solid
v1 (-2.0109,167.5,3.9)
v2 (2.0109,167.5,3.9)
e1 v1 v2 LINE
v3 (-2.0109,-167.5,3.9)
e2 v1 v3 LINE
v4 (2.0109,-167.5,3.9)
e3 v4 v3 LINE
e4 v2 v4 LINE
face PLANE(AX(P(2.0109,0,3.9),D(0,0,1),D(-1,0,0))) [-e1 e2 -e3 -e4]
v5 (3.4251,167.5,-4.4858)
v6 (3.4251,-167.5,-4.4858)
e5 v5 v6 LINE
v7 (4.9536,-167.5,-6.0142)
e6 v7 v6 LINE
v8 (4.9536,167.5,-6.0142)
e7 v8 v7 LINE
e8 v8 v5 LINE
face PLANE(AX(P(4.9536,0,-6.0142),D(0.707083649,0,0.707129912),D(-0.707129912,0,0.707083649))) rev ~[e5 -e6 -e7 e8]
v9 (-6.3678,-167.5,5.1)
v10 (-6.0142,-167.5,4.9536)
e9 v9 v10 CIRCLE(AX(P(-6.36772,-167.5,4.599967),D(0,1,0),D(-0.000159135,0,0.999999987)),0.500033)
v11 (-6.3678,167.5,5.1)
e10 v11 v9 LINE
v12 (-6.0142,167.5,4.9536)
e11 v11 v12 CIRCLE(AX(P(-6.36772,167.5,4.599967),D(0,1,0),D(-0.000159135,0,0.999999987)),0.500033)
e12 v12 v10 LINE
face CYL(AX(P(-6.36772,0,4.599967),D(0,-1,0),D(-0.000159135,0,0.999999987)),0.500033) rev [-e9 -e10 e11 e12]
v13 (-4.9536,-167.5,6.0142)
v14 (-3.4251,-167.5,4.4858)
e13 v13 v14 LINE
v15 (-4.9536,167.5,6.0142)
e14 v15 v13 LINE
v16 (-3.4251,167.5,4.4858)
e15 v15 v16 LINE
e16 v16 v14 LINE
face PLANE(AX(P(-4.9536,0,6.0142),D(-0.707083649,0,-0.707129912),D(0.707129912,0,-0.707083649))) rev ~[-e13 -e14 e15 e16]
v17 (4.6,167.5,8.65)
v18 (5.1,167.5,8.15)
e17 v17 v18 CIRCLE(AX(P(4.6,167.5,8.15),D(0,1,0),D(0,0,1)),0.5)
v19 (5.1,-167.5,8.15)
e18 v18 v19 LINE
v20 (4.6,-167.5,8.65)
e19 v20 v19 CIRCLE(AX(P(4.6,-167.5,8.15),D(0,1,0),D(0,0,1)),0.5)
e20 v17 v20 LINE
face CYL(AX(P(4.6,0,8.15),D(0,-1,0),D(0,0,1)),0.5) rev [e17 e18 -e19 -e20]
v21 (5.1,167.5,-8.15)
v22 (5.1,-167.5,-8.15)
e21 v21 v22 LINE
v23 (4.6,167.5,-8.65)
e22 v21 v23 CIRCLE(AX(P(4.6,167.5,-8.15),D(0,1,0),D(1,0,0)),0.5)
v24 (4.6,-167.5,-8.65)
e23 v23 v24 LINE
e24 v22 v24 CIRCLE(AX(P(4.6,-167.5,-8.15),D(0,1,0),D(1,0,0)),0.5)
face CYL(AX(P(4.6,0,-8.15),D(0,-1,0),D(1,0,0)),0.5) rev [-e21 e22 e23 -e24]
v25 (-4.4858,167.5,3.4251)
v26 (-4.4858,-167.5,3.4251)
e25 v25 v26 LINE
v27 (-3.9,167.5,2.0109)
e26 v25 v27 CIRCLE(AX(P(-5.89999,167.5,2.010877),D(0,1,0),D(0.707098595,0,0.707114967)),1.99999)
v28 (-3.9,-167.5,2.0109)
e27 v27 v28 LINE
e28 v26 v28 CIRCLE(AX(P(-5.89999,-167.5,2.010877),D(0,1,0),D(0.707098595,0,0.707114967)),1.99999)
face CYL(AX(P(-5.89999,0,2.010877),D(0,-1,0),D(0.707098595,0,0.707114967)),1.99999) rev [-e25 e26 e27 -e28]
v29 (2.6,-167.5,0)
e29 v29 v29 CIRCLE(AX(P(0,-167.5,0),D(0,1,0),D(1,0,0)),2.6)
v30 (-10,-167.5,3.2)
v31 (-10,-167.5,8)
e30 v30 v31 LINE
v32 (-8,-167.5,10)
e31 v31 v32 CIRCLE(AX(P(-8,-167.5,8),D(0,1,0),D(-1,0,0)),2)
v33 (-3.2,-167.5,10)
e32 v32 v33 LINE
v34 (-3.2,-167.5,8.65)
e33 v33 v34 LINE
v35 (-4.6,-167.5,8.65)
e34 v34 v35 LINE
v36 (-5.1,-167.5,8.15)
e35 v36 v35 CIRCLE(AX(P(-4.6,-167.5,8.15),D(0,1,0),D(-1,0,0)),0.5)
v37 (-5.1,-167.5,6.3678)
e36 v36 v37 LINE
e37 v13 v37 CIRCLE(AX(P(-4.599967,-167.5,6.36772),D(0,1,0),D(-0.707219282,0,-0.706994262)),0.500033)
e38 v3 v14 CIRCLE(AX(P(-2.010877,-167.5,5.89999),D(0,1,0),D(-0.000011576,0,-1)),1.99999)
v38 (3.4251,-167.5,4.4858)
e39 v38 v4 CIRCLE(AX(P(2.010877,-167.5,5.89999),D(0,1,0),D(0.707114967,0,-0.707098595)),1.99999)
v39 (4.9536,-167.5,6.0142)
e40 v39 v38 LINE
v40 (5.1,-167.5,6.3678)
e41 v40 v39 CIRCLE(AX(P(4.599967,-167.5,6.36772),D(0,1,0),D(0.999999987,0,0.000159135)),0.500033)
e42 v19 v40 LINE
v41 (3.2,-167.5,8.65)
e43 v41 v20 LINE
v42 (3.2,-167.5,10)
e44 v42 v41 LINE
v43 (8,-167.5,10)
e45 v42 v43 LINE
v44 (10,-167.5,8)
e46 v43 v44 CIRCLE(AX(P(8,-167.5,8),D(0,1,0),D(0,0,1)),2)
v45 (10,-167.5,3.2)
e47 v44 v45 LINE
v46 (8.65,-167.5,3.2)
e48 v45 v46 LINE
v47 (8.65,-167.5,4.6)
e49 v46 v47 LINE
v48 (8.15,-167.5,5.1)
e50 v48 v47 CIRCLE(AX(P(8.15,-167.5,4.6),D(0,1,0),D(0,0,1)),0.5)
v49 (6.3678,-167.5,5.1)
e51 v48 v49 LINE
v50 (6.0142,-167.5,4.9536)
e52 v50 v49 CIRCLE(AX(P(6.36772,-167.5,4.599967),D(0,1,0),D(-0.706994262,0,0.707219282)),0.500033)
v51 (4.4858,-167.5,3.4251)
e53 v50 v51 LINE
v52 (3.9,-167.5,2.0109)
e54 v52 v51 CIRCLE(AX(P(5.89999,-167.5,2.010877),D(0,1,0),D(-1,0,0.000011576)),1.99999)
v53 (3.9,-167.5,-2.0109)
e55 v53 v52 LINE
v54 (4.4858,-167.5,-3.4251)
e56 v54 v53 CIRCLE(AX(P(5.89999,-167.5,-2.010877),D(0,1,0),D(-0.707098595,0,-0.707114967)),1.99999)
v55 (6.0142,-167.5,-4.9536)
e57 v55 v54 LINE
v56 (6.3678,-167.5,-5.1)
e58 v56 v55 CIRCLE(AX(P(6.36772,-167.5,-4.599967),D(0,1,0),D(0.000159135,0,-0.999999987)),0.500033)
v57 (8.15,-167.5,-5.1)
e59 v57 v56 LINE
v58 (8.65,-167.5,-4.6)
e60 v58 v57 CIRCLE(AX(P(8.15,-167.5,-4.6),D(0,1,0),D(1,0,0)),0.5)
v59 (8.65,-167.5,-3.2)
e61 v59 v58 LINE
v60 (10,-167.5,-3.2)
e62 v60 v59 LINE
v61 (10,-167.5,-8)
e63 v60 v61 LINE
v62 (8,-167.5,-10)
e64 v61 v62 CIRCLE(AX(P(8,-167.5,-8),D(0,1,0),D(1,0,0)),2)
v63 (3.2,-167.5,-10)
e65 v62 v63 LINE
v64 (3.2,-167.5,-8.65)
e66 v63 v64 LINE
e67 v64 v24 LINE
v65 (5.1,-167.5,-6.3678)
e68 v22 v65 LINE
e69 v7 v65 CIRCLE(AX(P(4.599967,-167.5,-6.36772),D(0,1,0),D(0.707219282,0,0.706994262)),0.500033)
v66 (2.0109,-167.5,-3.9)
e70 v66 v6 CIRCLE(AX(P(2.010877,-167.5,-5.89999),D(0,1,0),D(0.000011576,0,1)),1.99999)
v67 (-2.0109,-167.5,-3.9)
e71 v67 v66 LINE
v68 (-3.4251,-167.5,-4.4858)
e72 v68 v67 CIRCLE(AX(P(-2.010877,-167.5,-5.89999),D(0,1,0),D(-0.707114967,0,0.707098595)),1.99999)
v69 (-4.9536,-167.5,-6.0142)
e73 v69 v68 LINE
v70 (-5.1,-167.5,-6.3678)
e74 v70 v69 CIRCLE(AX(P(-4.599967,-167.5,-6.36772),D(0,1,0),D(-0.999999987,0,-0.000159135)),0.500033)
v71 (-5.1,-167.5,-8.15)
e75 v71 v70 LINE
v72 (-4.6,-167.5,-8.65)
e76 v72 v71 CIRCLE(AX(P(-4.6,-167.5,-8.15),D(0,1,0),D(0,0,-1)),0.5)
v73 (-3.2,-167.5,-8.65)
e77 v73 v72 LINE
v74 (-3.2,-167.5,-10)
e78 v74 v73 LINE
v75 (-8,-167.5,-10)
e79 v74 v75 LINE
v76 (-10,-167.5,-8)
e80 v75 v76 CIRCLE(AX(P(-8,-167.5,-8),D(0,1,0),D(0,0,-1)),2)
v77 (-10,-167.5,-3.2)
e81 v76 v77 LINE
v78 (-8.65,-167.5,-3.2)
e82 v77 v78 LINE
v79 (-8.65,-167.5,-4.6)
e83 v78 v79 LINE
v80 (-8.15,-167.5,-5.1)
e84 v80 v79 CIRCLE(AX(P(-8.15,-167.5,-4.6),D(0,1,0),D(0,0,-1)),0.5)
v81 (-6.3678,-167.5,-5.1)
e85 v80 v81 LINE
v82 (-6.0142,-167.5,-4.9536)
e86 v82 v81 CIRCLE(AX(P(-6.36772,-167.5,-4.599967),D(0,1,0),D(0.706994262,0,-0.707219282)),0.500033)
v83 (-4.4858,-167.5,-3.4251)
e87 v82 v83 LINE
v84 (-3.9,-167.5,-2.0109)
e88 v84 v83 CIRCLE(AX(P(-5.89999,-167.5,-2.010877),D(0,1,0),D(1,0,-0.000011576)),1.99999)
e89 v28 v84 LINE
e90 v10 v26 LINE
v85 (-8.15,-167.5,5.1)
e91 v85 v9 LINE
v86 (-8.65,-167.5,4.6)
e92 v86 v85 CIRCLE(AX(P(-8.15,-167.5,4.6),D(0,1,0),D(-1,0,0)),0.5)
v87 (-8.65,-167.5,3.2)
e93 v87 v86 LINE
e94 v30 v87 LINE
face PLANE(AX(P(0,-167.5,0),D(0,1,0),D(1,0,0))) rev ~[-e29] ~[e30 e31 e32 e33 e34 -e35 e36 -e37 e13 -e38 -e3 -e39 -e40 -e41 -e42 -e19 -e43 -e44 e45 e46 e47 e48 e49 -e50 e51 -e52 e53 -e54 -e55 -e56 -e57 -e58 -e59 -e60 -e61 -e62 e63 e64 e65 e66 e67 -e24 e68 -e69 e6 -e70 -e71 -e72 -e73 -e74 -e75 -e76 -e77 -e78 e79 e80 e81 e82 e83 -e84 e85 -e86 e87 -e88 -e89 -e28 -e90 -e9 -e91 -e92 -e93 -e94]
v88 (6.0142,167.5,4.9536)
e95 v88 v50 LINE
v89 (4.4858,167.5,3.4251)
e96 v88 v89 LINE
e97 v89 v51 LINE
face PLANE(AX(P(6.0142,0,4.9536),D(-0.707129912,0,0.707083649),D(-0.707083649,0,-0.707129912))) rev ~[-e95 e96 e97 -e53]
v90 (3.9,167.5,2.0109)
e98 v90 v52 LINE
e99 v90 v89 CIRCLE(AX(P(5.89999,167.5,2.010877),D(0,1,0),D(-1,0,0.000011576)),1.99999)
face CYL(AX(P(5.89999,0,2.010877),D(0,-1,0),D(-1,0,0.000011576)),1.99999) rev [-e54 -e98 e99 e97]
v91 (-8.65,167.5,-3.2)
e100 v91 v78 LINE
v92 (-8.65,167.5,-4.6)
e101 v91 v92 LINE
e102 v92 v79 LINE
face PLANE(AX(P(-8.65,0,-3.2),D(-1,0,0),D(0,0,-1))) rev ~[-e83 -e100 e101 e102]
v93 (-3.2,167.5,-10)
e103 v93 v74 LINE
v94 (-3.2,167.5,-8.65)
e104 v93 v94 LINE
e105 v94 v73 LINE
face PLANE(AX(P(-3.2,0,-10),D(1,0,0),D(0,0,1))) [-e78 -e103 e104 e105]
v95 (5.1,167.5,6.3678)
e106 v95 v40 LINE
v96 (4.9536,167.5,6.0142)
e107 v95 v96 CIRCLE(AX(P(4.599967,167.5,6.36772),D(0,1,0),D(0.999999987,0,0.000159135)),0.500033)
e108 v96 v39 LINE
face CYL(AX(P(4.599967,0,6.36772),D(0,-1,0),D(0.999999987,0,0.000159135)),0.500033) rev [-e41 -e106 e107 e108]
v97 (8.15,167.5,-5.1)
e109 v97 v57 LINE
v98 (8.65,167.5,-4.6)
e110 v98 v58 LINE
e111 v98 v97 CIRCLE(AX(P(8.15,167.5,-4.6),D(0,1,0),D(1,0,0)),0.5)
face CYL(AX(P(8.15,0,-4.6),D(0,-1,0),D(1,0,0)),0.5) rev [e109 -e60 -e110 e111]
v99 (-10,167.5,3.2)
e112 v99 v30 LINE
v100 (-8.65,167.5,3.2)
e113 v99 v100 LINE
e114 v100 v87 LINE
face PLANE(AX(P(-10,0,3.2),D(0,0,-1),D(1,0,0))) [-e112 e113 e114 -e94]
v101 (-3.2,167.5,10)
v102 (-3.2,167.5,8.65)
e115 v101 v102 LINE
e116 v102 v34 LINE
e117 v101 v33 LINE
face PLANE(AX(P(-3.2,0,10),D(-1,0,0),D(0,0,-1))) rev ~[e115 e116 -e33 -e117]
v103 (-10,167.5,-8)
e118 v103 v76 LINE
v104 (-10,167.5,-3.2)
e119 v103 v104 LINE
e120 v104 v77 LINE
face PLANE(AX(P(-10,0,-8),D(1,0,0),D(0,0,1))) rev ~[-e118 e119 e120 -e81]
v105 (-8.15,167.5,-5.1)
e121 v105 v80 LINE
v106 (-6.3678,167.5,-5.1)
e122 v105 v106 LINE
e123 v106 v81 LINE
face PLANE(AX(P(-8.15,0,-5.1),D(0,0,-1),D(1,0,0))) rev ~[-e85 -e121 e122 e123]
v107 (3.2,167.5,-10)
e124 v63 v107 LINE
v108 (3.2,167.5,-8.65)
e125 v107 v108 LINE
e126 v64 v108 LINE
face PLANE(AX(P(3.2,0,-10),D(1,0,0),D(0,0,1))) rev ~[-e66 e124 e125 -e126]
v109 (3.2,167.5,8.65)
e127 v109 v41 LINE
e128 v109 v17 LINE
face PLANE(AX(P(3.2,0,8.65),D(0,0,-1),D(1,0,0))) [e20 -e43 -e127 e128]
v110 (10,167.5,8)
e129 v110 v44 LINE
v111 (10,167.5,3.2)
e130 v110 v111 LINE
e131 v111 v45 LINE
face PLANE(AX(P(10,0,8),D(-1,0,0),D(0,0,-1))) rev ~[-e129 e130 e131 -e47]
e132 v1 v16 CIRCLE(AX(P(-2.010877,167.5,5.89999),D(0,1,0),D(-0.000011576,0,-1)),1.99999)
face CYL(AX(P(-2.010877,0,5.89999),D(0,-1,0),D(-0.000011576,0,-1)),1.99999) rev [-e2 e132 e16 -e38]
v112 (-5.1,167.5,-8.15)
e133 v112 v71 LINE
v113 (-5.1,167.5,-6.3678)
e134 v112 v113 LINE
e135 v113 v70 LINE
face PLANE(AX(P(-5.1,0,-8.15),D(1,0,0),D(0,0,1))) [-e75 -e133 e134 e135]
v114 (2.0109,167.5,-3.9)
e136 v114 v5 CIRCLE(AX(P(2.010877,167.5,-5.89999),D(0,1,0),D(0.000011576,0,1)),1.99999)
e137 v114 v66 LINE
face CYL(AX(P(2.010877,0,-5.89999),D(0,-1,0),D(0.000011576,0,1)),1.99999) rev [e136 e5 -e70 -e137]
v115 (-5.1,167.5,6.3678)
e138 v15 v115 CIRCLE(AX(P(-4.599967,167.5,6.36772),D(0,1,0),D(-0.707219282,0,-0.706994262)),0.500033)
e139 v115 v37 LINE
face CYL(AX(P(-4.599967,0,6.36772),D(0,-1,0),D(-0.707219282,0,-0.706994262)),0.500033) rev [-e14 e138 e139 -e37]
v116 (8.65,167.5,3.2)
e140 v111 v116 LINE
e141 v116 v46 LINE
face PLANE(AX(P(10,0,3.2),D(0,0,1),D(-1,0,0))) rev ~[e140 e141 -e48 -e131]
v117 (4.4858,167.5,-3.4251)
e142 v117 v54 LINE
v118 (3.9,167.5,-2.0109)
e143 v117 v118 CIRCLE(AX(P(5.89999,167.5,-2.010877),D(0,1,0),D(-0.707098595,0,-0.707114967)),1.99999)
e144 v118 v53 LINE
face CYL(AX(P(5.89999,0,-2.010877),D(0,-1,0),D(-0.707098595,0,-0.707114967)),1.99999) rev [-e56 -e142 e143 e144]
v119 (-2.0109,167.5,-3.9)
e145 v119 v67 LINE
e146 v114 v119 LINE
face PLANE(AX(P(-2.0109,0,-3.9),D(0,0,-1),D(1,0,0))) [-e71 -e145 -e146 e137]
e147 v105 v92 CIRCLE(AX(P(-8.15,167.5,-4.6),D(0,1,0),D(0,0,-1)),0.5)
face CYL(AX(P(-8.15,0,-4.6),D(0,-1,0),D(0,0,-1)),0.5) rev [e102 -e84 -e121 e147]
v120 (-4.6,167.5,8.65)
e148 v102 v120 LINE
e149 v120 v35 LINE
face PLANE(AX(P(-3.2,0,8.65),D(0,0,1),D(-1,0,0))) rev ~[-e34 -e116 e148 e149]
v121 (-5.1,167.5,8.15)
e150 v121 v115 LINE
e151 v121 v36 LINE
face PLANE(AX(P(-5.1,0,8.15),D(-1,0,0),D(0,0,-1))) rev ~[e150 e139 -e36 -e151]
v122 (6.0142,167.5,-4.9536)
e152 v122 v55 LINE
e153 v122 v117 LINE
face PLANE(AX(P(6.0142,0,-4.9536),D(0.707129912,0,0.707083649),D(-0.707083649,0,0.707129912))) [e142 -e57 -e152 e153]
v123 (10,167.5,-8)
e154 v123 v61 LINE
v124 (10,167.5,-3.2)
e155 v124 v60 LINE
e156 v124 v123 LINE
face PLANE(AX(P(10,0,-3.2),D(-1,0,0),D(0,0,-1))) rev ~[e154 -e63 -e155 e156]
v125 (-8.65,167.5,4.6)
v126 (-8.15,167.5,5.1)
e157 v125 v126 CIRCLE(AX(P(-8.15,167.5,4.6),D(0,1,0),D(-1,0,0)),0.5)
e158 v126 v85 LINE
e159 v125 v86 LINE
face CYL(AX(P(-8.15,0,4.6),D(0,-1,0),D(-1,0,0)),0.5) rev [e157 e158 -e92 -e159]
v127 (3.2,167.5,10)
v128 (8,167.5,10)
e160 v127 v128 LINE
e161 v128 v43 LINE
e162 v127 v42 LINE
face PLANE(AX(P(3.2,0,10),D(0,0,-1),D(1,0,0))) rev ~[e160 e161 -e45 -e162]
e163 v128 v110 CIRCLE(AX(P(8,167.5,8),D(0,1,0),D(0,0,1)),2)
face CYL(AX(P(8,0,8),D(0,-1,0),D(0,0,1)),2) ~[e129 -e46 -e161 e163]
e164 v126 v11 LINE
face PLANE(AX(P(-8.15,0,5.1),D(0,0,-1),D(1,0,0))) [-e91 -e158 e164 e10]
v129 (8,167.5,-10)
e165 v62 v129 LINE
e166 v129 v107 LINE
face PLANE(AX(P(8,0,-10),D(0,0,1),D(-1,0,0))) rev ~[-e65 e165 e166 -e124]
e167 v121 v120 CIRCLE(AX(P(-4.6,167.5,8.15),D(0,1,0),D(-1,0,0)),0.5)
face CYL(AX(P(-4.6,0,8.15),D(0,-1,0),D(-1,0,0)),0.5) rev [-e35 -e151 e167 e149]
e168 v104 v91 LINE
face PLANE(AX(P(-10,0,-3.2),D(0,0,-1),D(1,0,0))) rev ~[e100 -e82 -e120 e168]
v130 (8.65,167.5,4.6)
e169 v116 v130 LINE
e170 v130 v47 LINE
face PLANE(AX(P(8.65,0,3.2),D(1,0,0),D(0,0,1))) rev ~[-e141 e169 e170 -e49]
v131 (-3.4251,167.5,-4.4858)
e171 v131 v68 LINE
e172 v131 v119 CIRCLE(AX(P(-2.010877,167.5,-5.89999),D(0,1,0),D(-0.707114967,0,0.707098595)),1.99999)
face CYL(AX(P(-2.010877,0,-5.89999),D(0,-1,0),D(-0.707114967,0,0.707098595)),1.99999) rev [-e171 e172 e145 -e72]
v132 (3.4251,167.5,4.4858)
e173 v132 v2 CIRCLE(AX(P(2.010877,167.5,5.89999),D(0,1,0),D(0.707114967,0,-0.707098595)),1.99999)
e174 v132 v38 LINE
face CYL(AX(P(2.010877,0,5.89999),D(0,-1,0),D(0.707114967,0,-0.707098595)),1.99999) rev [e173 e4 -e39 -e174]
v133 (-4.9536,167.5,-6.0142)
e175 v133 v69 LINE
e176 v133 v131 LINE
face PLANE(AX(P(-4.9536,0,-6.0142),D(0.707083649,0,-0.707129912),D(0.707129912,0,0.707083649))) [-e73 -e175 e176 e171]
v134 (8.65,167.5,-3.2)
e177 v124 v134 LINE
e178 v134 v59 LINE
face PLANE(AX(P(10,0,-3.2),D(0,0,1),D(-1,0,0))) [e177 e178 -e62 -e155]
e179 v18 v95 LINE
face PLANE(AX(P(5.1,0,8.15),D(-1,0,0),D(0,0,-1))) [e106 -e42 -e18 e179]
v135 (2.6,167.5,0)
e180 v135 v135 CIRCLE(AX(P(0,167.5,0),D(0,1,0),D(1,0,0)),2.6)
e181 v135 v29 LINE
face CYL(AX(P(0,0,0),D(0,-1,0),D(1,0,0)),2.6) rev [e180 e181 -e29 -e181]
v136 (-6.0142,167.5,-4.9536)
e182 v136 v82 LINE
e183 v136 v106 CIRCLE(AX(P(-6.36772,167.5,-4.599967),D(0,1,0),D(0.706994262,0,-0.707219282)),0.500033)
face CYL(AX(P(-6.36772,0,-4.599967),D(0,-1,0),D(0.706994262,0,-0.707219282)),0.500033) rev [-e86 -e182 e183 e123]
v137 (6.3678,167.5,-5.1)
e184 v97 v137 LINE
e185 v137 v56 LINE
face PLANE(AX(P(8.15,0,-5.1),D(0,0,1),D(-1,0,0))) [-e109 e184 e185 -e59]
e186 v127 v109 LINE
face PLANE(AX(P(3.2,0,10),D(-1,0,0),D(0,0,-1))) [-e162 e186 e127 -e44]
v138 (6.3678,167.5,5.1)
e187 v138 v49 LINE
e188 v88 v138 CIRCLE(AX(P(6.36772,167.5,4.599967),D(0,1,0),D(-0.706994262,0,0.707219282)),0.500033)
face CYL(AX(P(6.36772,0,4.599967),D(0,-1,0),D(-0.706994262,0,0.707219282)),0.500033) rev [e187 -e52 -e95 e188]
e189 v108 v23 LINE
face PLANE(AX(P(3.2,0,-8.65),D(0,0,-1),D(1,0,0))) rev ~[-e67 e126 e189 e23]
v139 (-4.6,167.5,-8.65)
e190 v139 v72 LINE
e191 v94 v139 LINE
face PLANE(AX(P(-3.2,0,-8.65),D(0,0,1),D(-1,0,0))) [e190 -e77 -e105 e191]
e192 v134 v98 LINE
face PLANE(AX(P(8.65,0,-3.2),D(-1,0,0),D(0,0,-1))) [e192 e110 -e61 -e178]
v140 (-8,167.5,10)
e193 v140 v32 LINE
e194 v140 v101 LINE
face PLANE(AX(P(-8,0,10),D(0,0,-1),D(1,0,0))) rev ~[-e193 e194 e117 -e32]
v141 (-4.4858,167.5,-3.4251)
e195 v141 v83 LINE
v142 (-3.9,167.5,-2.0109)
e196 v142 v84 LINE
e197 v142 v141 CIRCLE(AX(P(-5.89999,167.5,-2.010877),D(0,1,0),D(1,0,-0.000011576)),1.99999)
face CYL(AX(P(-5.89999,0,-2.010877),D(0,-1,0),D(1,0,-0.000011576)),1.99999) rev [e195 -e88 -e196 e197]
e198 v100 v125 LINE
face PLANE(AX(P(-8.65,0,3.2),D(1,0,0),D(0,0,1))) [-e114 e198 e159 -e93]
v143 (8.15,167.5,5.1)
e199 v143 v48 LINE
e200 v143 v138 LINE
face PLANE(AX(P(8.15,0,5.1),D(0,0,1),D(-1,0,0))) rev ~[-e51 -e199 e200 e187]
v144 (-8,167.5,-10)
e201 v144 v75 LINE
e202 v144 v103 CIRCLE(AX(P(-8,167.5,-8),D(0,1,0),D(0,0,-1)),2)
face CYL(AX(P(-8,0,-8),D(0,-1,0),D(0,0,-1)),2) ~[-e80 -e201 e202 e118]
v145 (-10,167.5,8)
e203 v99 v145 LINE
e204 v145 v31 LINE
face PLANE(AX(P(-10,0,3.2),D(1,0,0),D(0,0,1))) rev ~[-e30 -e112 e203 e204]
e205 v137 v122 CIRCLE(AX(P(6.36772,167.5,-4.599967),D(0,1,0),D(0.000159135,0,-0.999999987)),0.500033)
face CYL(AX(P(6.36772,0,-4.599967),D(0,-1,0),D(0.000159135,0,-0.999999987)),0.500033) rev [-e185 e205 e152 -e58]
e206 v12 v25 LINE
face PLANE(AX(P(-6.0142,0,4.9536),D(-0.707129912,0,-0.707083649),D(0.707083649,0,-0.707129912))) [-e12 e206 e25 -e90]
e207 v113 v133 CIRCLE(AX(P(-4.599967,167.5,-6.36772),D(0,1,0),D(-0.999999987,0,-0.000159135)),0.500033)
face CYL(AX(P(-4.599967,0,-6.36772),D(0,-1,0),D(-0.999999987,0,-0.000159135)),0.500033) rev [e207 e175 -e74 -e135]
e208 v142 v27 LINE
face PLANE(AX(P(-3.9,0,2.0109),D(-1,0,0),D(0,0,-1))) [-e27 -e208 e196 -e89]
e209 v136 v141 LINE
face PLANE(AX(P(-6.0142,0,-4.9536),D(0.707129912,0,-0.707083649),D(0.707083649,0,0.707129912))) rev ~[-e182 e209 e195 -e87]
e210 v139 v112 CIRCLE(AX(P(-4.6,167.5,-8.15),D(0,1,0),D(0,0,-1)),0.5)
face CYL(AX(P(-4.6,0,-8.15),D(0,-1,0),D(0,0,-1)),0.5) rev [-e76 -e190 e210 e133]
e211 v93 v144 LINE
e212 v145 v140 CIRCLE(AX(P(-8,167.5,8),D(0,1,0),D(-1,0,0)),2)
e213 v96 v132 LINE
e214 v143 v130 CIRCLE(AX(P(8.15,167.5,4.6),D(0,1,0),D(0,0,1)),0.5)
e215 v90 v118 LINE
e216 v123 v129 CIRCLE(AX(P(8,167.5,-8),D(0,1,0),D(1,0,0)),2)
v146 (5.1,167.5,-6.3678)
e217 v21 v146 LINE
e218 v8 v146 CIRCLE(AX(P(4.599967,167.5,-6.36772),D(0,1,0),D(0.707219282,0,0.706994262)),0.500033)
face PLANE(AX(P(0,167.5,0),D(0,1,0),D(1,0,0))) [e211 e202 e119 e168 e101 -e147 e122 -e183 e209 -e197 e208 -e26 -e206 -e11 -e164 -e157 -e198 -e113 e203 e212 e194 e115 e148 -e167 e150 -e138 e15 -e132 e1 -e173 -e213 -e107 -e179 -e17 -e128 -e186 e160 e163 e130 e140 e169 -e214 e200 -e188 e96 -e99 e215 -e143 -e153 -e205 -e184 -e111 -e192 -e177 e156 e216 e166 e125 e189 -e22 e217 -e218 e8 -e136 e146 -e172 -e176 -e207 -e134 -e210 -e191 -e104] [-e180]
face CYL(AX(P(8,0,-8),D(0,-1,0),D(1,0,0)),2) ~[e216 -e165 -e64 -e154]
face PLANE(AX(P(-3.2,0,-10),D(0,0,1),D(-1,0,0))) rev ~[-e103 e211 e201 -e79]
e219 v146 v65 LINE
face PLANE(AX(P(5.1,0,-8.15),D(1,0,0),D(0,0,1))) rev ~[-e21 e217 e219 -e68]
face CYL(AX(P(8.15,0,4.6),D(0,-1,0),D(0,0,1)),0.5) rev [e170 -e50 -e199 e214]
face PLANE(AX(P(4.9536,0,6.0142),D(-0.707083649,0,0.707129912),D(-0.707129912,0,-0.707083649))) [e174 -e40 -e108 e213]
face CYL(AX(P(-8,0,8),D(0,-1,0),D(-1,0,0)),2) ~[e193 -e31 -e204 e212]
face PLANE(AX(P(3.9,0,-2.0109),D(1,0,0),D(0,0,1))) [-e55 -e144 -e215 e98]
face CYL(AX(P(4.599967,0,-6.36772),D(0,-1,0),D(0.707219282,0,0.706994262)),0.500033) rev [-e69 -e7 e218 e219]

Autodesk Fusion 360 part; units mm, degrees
sketch "スケッチ1" plane through (0, 0, 0) normal (0, 1, 0) x (1, 0, 0)
  line L0 (8, 10) -> (-8, 10)
  line L1 (-10, 8) -> (-10, -8)
  line L2 (-8, -10) -> (8, -10)
  line L3 (10, -8) -> (10, 8)
  line L4 (10, 10) -> (-10, -10) construction
  line L5 (-10, 10) -> (10, -10) construction
  circle A0 centre (0, 0) radius 2.6
  line L6 (-3.2, -10) -> (-3.2, -8.65)
  line L7 (-3.2, -8.65) -> (-4.6, -8.65)
  line L8 (-5.1, -8.15) -> (-5.1, -6.3678)
  line L9 (-4.9536, -6.0142) -> (-3.4251, -4.4858)
  line L10 (0, 0) -> (0, -10) construction
  line L11 (-2.0109, -3.9) -> (0, -3.9)
  arc A1 (-5.1, -8.15) -> (-4.6, -8.65) centre (-4.6, -8.15) ccw
  arc A2 (-4.9536, -6.0142) -> (-5.1, -6.3678) centre (-4.6, -6.3678) ccw
  arc A3 (-2.0109, -3.9) -> (-3.4251, -4.4858) centre (-2.0109, -5.9) ccw
  arc A4 (-10, -8) -> (-8, -10) centre (-8, -8) ccw
  arc A5 (10, 8) -> (8, 10) centre (8, 8) ccw
  arc A6 (8, -10) -> (10, -8) centre (8, -8) ccw
  arc A7 (-8, 10) -> (-10, 8) centre (-8, 8) ccw
  line L12 (3.2, -10) -> (3.2, -8.65)
  line L13 (3.2, -8.65) -> (4.6, -8.65)
  arc A8 (4.6, -8.65) -> (5.1, -8.15) centre (4.6, -8.15) ccw
  line L14 (5.1, -8.15) -> (5.1, -6.3678)
  arc A9 (5.1, -6.3678) -> (4.9536, -6.0142) centre (4.6, -6.3678) ccw
  line L15 (4.9536, -6.0142) -> (3.4251, -4.4858)
  arc A10 (3.4251, -4.4858) -> (2.0109, -3.9) centre (2.0109, -5.9) ccw
  line L16 (2.0109, -3.9) -> (0, -3.9)
  line L17 (10, -3.2) -> (8.65, -3.2)
  line L18 (8.65, -3.2) -> (8.65, -4.6)
  arc A11 (8.15, -5.1) -> (8.65, -4.6) centre (8.15, -4.6) ccw
  line L19 (8.15, -5.1) -> (6.3678, -5.1)
  arc A12 (6.0142, -4.9536) -> (6.3678, -5.1) centre (6.3678, -4.6) ccw
  line L20 (6.0142, -4.9536) -> (4.4858, -3.4251)
  arc A13 (3.9, -2.0109) -> (4.4858, -3.4251) centre (5.9, -2.0109) ccw
  line L21 (3.9, -2.0109) -> (3.9, 0)
  line L22 (3.9, 2.0109) -> (3.9, 0)
  arc A14 (4.4858, 3.4251) -> (3.9, 2.0109) centre (5.9, 2.0109) ccw
  line L23 (6.0142, 4.9536) -> (4.4858, 3.4251)
  arc A15 (6.3678, 5.1) -> (6.0142, 4.9536) centre (6.3678, 4.6) ccw
  line L24 (8.15, 5.1) -> (6.3678, 5.1)
  arc A16 (8.65, 4.6) -> (8.15, 5.1) centre (8.15, 4.6) ccw
  line L25 (8.65, 3.2) -> (8.65, 4.6)
  line L26 (10, 3.2) -> (8.65, 3.2)
  line L27 (3.2, 10) -> (3.2, 8.65)
  line L28 (3.2, 8.65) -> (4.6, 8.65)
  arc A17 (5.1, 8.15) -> (4.6, 8.65) centre (4.6, 8.15) ccw
  line L29 (5.1, 8.15) -> (5.1, 6.3678)
  arc A18 (4.9536, 6.0142) -> (5.1, 6.3678) centre (4.6, 6.3678) ccw
  line L30 (4.9536, 6.0142) -> (3.4251, 4.4858)
  arc A19 (2.0109, 3.9) -> (3.4251, 4.4858) centre (2.0109, 5.9) ccw
  line L31 (2.0109, 3.9) -> (0, 3.9)
  line L32 (-2.0109, 3.9) -> (0, 3.9)
  arc A20 (-3.4251, 4.4858) -> (-2.0109, 3.9) centre (-2.0109, 5.9) ccw
  line L33 (-4.9536, 6.0142) -> (-3.4251, 4.4858)
  arc A21 (-5.1, 6.3678) -> (-4.9536, 6.0142) centre (-4.6, 6.3678) ccw
  line L34 (-5.1, 8.15) -> (-5.1, 6.3678)
  arc A22 (-4.6, 8.65) -> (-5.1, 8.15) centre (-4.6, 8.15) ccw
  line L35 (-3.2, 8.65) -> (-4.6, 8.65)
  line L36 (-3.2, 10) -> (-3.2, 8.65)
  line L37 (-10, 3.2) -> (-8.65, 3.2)
  line L38 (-8.65, 3.2) -> (-8.65, 4.6)
  arc A23 (-8.15, 5.1) -> (-8.65, 4.6) centre (-8.15, 4.6) ccw
  line L39 (-8.15, 5.1) -> (-6.3678, 5.1)
  arc A24 (-6.0142, 4.9536) -> (-6.3678, 5.1) centre (-6.3678, 4.6) ccw
  line L40 (-6.0142, 4.9536) -> (-4.4858, 3.4251)
  arc A25 (-3.9, 2.0109) -> (-4.4858, 3.4251) centre (-5.9, 2.0109) ccw
  line L41 (-3.9, 2.0109) -> (-3.9, 0)
  line L42 (-3.9, -2.0109) -> (-3.9, 0)
  arc A26 (-4.4858, -3.4251) -> (-3.9, -2.0109) centre (-5.9, -2.0109) ccw
  line L43 (-6.0142, -4.9536) -> (-4.4858, -3.4251)
  arc A27 (-6.3678, -5.1) -> (-6.0142, -4.9536) centre (-6.3678, -4.6) ccw
  line L44 (-8.15, -5.1) -> (-6.3678, -5.1)
  arc A28 (-8.65, -4.6) -> (-8.15, -5.1) centre (-8.15, -4.6) ccw
  line L45 (-8.65, -3.2) -> (-8.65, -4.6)
  line L46 (-10, -3.2) -> (-8.65, -3.2)
  dimension "d1" = 20
  dimension "d2" = 20
  dimension "d3" = 5.2
  dimension "d4" = 1.35
  dimension "d5" = 3.2
  dimension "d6" = 5.1
  dimension "d7" = 6.1
  dimension "d8" = 0.75
  dimension "d9" = 0.5
  dimension "d10" = 2
  dimension "d11" = 2
  dimension "d12" = 2
  dimension "d13" = 2
  dimension "d14" = 2
  dimension "d16" = 360
extrude "押し出し1" add sketch "スケッチ1" along normal mid plane 335 contours L0 L1 L2 L3 L6 L7 L8 L9 L11 A1 A2 A3 A4 A5 A6 A7 L12 L13 A8 L14 A9 L15 A10 L16 L17 L18 A11 L19 A12 L20 A13 L21 L22 A14 L23 A15 L24 A16 L25 L26 L27 L28 A17 L29 A18 L30 A19 L31 L32 A20 L33 A21 L34 A22 L35 L36 L37 L38 A23 L39 A24 L40 A25 L41 L42 A26 L43 A27 L44 A28 L45 L46
